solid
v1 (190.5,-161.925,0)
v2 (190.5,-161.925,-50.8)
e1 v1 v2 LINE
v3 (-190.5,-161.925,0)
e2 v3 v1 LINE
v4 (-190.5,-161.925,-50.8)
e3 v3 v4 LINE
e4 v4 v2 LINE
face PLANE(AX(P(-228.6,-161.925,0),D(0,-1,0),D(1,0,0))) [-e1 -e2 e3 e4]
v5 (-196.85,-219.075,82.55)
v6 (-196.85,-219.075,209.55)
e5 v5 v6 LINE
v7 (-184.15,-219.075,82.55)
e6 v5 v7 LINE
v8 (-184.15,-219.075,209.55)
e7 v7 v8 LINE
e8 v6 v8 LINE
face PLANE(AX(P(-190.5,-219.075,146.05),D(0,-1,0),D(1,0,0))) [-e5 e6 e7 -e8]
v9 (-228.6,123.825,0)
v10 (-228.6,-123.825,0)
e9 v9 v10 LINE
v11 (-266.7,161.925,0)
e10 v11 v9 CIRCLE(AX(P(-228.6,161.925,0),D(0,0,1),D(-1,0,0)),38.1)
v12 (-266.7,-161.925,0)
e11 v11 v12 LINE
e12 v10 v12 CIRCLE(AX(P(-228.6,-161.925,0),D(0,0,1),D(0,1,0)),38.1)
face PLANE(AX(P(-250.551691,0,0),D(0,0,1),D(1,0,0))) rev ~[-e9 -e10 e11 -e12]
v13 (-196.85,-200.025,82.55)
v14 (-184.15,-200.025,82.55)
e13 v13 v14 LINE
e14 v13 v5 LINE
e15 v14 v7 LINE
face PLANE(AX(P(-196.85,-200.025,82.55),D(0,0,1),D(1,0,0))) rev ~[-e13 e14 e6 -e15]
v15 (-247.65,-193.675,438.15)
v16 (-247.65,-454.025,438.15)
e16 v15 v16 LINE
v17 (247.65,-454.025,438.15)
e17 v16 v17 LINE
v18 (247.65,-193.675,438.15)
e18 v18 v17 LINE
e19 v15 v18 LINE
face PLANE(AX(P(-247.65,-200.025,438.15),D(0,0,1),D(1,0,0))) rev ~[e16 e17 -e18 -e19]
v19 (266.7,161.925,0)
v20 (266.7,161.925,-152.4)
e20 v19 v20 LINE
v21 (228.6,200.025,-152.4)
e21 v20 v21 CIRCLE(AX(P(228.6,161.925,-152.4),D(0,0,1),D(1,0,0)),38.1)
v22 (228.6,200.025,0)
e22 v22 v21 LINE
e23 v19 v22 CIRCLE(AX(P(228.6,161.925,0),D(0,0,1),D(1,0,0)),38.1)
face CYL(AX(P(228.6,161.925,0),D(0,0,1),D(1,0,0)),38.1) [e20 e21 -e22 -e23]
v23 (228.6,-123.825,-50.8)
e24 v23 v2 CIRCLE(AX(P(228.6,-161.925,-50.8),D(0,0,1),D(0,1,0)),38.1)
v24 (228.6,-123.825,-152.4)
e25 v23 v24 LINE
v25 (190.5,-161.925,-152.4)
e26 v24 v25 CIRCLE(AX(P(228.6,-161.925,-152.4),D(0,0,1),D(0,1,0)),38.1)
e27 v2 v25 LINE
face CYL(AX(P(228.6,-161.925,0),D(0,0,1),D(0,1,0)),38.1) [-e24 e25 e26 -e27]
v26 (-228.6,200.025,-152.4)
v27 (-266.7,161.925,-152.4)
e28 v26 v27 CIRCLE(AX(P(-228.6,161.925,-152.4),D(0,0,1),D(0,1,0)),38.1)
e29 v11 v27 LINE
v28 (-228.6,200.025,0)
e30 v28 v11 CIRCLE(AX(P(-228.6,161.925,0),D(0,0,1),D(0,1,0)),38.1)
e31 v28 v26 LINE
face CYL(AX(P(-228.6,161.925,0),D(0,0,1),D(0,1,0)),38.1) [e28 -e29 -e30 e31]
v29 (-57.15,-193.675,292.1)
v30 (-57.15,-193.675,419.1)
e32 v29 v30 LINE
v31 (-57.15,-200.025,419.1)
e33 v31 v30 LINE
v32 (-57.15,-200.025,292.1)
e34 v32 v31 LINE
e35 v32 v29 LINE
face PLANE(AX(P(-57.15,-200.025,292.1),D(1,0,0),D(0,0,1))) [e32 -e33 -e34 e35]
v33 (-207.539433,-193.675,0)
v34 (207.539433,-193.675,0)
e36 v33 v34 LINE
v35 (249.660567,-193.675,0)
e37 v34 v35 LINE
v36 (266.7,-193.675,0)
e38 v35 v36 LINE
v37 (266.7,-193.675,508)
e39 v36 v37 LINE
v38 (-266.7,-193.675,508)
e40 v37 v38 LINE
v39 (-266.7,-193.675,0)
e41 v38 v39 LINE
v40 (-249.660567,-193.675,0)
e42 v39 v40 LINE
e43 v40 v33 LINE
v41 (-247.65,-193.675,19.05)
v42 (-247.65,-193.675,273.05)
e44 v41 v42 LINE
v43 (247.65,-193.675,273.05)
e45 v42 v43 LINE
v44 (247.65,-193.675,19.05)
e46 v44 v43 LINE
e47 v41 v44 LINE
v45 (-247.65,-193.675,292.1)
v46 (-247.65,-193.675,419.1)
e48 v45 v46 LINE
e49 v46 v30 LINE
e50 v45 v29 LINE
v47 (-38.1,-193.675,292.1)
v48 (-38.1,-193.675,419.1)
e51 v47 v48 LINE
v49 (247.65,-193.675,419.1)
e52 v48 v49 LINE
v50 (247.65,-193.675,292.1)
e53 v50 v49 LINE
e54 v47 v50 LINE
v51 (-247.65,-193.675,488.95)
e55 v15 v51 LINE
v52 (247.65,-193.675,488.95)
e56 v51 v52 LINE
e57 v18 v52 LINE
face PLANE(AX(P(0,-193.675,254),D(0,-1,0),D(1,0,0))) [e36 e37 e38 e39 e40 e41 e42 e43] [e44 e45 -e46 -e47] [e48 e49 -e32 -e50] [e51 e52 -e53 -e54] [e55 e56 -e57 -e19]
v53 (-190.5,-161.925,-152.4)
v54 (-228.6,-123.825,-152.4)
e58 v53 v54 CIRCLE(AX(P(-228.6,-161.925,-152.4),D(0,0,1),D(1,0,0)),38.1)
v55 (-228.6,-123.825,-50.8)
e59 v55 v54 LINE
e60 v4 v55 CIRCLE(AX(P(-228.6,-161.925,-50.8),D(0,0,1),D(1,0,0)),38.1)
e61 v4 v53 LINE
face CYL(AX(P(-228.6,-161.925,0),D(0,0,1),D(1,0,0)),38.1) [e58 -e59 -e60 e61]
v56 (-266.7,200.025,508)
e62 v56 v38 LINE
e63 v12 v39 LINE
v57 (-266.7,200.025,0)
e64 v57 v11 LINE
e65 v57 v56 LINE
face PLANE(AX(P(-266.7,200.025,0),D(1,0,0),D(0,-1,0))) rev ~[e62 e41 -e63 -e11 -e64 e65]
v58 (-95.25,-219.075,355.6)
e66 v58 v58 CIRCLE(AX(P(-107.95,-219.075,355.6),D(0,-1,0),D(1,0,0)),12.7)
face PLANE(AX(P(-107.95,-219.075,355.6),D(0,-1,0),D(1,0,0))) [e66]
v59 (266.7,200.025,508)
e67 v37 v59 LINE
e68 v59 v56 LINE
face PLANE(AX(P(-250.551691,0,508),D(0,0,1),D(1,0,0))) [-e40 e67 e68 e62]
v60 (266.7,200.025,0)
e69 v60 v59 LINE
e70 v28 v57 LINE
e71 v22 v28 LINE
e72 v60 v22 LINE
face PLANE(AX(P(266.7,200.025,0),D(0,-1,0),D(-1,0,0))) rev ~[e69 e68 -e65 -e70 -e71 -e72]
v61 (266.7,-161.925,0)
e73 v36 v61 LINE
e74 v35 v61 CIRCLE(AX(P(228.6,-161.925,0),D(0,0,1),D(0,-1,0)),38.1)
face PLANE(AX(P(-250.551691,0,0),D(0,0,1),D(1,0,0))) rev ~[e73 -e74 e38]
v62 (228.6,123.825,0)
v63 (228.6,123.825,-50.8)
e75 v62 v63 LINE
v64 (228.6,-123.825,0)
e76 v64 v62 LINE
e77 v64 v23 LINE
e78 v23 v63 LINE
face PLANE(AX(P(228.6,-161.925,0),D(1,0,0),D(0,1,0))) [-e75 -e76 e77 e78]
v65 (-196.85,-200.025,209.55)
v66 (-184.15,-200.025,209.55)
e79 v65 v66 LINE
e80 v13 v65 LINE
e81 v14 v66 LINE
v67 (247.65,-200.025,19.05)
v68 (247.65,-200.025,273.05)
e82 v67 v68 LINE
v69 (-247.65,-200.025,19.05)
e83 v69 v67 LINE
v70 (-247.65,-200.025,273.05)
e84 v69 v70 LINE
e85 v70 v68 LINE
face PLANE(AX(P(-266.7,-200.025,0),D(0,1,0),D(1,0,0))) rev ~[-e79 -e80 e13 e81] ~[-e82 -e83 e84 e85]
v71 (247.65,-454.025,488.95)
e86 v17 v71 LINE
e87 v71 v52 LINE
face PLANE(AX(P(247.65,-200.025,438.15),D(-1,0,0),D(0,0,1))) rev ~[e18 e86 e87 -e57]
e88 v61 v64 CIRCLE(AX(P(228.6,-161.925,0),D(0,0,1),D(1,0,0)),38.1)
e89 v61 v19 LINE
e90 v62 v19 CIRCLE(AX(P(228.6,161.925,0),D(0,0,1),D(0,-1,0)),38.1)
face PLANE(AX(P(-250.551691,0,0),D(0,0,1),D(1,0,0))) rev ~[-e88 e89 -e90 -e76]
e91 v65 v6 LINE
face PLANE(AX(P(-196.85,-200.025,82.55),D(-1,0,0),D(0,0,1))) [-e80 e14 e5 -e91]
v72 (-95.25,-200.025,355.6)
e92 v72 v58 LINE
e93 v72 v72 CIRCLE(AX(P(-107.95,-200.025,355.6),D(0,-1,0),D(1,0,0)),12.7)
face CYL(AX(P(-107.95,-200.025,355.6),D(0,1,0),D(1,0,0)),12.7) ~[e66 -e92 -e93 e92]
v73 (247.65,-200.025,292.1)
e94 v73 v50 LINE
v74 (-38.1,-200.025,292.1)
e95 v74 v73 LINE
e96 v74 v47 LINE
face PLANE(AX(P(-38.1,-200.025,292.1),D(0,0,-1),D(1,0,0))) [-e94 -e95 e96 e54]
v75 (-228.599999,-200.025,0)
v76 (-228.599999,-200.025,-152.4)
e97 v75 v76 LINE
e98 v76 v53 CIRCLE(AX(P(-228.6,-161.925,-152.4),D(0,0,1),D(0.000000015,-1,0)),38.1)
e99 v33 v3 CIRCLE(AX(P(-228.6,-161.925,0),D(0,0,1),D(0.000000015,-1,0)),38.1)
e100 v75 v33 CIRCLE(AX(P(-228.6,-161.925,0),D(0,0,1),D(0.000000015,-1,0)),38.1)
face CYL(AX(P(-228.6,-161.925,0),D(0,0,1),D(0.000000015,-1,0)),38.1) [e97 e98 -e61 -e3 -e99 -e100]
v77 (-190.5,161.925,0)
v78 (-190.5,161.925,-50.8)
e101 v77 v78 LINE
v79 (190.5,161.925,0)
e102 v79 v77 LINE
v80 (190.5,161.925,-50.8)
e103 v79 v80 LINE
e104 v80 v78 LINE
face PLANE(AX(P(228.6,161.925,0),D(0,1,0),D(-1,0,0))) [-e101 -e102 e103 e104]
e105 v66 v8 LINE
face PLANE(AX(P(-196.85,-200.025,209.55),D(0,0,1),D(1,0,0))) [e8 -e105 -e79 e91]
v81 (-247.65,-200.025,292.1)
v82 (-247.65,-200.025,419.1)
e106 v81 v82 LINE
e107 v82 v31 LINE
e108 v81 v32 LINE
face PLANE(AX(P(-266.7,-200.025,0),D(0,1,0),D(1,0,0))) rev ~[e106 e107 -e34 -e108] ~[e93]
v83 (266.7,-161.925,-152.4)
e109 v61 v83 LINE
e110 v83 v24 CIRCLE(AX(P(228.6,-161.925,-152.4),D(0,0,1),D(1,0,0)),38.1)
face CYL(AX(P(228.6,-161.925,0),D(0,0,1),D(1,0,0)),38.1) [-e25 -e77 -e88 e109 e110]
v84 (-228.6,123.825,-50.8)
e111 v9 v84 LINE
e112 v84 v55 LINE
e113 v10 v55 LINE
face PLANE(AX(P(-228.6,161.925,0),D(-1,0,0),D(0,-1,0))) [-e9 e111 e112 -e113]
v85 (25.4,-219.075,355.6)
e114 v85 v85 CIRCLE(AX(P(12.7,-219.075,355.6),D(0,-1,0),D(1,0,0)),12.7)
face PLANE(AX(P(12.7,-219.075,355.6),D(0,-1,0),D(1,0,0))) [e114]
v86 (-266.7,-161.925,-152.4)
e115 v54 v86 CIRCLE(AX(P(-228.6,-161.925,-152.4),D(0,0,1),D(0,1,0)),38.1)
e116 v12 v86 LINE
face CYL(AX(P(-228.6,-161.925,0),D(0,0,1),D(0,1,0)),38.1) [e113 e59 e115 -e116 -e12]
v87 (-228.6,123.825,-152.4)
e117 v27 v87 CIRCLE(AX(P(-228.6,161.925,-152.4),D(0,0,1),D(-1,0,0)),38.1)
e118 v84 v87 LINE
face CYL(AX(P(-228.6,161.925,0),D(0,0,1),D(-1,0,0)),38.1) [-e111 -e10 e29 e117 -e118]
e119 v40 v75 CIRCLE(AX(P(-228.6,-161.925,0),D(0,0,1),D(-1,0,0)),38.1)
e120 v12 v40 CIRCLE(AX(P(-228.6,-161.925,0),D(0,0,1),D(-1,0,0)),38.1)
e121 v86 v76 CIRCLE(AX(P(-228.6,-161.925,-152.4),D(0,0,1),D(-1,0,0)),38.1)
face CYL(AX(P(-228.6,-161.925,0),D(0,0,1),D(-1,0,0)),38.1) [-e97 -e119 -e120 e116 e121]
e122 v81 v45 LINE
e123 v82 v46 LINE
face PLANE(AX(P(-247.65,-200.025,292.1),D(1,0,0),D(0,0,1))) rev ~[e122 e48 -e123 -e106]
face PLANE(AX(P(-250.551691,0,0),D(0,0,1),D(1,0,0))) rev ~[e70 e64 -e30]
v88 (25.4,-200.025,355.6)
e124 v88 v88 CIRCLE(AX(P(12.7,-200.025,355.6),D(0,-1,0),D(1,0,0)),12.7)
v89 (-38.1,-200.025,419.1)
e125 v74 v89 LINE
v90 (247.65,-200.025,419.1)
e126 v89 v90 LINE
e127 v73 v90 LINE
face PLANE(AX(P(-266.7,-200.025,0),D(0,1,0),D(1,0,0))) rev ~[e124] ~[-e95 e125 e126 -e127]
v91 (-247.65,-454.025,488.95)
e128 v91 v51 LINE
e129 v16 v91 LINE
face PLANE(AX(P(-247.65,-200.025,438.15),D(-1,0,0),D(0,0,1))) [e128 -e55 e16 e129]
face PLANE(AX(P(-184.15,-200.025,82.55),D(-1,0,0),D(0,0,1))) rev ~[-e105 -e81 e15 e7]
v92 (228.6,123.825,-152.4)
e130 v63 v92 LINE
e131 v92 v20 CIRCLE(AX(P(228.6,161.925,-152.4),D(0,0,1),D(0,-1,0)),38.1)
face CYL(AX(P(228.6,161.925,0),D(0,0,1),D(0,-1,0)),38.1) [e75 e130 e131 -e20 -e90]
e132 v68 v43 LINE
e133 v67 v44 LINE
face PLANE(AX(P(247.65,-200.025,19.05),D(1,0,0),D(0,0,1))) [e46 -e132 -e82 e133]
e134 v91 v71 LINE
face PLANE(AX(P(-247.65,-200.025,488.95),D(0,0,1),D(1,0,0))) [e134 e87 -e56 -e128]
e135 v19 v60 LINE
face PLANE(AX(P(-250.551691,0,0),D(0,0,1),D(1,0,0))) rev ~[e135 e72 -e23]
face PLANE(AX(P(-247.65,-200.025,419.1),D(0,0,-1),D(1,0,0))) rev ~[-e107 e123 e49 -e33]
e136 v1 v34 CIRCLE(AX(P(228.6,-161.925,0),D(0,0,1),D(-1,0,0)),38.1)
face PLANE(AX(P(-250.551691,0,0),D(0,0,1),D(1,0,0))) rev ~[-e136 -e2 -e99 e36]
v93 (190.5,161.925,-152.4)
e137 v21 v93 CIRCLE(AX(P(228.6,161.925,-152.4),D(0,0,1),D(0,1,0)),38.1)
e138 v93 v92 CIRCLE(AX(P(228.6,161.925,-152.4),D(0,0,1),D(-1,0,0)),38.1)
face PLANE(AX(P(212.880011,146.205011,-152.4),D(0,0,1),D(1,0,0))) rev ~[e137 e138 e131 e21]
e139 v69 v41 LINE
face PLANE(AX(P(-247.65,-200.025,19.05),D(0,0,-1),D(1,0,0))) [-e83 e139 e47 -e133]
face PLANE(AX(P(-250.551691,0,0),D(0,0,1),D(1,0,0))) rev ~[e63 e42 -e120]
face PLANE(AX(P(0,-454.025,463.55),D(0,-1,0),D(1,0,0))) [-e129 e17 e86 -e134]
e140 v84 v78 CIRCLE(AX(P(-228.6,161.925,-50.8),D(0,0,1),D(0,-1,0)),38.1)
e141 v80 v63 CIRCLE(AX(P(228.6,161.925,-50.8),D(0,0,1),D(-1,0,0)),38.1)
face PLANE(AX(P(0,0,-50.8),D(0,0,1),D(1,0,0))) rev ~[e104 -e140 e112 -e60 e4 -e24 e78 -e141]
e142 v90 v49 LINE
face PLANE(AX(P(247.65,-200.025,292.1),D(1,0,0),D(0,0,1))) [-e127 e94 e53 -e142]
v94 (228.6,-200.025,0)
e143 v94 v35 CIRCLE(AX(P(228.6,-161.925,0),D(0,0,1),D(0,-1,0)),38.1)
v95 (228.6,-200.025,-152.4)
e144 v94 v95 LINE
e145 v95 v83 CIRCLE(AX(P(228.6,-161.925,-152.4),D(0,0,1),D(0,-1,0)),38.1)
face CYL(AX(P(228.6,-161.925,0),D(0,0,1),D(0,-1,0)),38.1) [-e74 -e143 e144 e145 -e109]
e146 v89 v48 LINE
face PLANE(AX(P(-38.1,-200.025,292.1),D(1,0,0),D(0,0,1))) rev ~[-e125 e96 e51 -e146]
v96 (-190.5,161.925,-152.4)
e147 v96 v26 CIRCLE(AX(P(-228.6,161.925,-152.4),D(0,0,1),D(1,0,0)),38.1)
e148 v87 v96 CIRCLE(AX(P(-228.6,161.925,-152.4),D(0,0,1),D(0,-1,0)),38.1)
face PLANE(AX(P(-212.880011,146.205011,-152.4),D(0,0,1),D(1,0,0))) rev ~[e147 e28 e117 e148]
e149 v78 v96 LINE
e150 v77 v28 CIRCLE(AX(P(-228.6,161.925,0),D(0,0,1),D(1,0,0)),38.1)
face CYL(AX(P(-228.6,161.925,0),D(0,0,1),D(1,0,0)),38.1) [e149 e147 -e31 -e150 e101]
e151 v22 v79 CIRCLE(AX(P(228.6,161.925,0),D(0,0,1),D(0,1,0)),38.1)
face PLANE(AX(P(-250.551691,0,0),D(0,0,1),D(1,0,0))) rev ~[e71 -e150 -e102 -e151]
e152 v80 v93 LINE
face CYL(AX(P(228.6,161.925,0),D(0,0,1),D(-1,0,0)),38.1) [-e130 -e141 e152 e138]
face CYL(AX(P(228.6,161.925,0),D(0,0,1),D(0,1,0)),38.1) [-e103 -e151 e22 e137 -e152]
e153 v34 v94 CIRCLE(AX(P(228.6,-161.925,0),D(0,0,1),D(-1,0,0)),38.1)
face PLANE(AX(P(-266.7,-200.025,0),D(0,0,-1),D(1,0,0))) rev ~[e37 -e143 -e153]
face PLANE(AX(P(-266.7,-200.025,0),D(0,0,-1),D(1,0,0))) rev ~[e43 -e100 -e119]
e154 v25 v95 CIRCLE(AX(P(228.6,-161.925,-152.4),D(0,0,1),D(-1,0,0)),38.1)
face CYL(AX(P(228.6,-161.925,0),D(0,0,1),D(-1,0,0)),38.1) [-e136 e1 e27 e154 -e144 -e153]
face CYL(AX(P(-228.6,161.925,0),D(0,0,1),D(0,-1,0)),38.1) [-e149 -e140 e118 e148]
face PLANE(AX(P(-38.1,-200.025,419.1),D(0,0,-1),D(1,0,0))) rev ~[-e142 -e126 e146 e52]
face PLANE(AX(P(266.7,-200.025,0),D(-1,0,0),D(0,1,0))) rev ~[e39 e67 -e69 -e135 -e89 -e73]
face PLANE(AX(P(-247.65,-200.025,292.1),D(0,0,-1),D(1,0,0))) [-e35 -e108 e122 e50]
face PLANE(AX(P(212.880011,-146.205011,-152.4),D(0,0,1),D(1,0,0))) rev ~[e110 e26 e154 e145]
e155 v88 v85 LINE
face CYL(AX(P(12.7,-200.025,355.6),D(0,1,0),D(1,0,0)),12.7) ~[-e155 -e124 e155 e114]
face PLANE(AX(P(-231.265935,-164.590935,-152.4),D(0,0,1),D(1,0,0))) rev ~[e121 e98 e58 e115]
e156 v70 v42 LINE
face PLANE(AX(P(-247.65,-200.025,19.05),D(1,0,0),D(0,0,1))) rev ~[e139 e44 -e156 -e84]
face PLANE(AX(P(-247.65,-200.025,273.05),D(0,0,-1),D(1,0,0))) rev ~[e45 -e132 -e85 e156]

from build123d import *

# Parameters (mm, degrees)
F1_DEPTH = 50.8
F2_DEPTH = 152.4
F3_DEPTH = 508
F4_W     = 495.3
F4_H     = 254
F4_W_2   = 190.5
F4_H_2   = 127
F4_W_3   = 285.75
F4_H_3   = 50.8
F5_DEPTH = 6.35
F6_DEPTH = 254
F4_W_4   = 12.7
F4_R     = 12.7
F7_DEPTH = 19.05


with BuildPart() as f1:
    # F0 (on Top) → F1 (new body)
    with BuildSketch(Plane.XY):
        with BuildLine():
            ThreePointArc((228.6, 123.825), (201.6592316368, 134.9842316368), (190.5, 161.925))
            Line((190.5, 161.925), (-190.5, 161.925))
            ThreePointArc((-190.5, 161.925), (-201.6592316368, 134.9842316368), (-228.6, 123.825))
            Line((-228.6, 123.825), (-228.6, -123.825))
            ThreePointArc((-228.6, -123.825), (-201.6592316368, -134.9842316368), (-190.5, -161.925))
            Line((-190.5, -161.925), (190.5, -161.925))
            ThreePointArc((190.5, -161.925), (201.6592316368, -134.9842316368), (228.6, -123.825))
            Line((228.6, -123.825), (228.6, 123.825))
        make_face()
        with BuildLine():
            ThreePointArc((-228.6, 123.825), (-201.6592316368, 134.9842316368), (-190.5, 161.925))
            Line((-190.5, 161.925), (-228.6, 161.925))
            Line((-228.6, 161.925), (-228.6, 123.825))
        make_face()
        with BuildLine():
            ThreePointArc((-190.5, -161.925), (-201.6592316368, -134.9842316368), (-228.6, -123.825))
            Line((-228.6, -123.825), (-228.6, -161.925))
            Line((-228.6, -161.925), (-190.5, -161.925))
        make_face()
        with BuildLine():
            Line((228.6, -161.925), (228.6, -123.825))
            ThreePointArc((228.6, -123.825), (201.6592316368, -134.9842316368), (190.5, -161.925))
            Line((190.5, -161.925), (228.6, -161.925))
        make_face()
        with BuildLine():
            Line((228.6, 161.925), (190.5, 161.925))
            ThreePointArc((190.5, 161.925), (201.6592316368, 134.9842316368), (228.6, 123.825))
            Line((228.6, 123.825), (228.6, 161.925))
        make_face()
    extrude(amount=-F1_DEPTH)

    # F0 (on Top) → F2 (join)
    with BuildSketch(Plane.XY):
        with BuildLine():
            ThreePointArc((-228.6, -123.825), (-255.5407683632, -134.9842316368), (-266.7, -161.925))
            ThreePointArc((-266.7, -161.925), (-255.540768159, -188.8657685674), (-228.5999994224, -200.025))
            ThreePointArc((-228.5999994224, -200.025), (-201.6592314326, -188.865768159), (-190.5, -161.925))
            Line((-190.5, -161.925), (-228.6, -161.925))
            Line((-228.6, -161.925), (-228.6, -123.825))
        make_face()
        with BuildLine():
            ThreePointArc((-190.5, -161.925), (-201.6592316368, -134.9842316368), (-228.6, -123.825))
            Line((-228.6, -123.825), (-228.6, -161.925))
            Line((-228.6, -161.925), (-190.5, -161.925))
        make_face()
        with BuildLine():
            ThreePointArc((-228.6, 123.825), (-201.6592316368, 134.9842316368), (-190.5, 161.925))
            Line((-190.5, 161.925), (-228.6, 161.925))
            Line((-228.6, 161.925), (-228.6, 123.825))
        make_face()
        with BuildLine():
            ThreePointArc((-190.5, 161.925), (-201.6592316368, 188.8657683632), (-228.6, 200.025))
            ThreePointArc((-228.6, 200.025), (-255.5407683632, 188.8657683632), (-266.7, 161.925))
            ThreePointArc((-266.7, 161.925), (-255.5407683632, 134.9842316368), (-228.6, 123.825))
            Line((-228.6, 123.825), (-228.6, 161.925))
            Line((-228.6, 161.925), (-190.5, 161.925))
        make_face()
        with BuildLine():
            Line((228.6, 161.925), (190.5, 161.925))
            ThreePointArc((190.5, 161.925), (201.6592316368, 134.9842316368), (228.6, 123.825))
            Line((228.6, 123.825), (228.6, 161.925))
        make_face()
        with BuildLine():
            ThreePointArc((266.7, 161.925), (255.5407683632, 188.8657683632), (228.6, 200.025))
            ThreePointArc((228.6, 200.025), (201.6592316368, 188.8657683632), (190.5, 161.925))
            Line((190.5, 161.925), (228.6, 161.925))
            Line((228.6, 161.925), (228.6, 123.825))
            ThreePointArc((228.6, 123.825), (255.5407683632, 134.9842316368), (266.7, 161.925))
        make_face()
        with BuildLine():
            Line((228.6, -161.925), (228.6, -123.825))
            ThreePointArc((228.6, -123.825), (201.6592316368, -134.9842316368), (190.5, -161.925))
            Line((190.5, -161.925), (228.6, -161.925))
        make_face()
        with BuildLine():
            ThreePointArc((228.6, -200.025), (255.5407683632, -188.8657683632), (266.7, -161.925))
            ThreePointArc((266.7, -161.925), (255.5407683632, -134.9842316368), (228.6, -123.825))
            Line((228.6, -123.825), (228.6, -161.925))
            Line((228.6, -161.925), (190.5, -161.925))
            ThreePointArc((190.5, -161.925), (201.6592316368, -188.8657683632), (228.6, -200.025))
        make_face()
    extrude(amount=-F2_DEPTH)

    # F0 (on Top) → F3 (join)
    with BuildSketch(Plane.XY):
        with BuildLine():
            ThreePointArc((-228.6, 123.825), (-255.5407683632, 134.9842316368), (-266.7, 161.925))
            Line((-266.7, 161.925), (-266.7, -161.925))
            ThreePointArc((-266.7, -161.925), (-255.5407683632, -134.9842316368), (-228.6, -123.825))
            Line((-228.6, -123.825), (-228.6, 123.825))
        make_face()
        with BuildLine():
            ThreePointArc((-266.7, 161.925), (-255.5407683632, 188.8657683632), (-228.6, 200.025))
            Line((-228.6, 200.025), (-266.7, 200.025))
            Line((-266.7, 200.025), (-266.7, 161.925))
        make_face()
        with BuildLine():
            ThreePointArc((-190.5, 161.925), (-201.6592316368, 188.8657683632), (-228.6, 200.025))
            ThreePointArc((-228.6, 200.025), (-255.5407683632, 188.8657683632), (-266.7, 161.925))
            ThreePointArc((-266.7, 161.925), (-255.5407683632, 134.9842316368), (-228.6, 123.825))
            Line((-228.6, 123.825), (-228.6, 161.925))
            Line((-228.6, 161.925), (-190.5, 161.925))
        make_face()
        with BuildLine():
            ThreePointArc((-228.6, 123.825), (-201.6592316368, 134.9842316368), (-190.5, 161.925))
            Line((-190.5, 161.925), (-228.6, 161.925))
            Line((-228.6, 161.925), (-228.6, 123.825))
        make_face()
        with BuildLine():
            ThreePointArc((228.6, 123.825), (201.6592316368, 134.9842316368), (190.5, 161.925))
            Line((190.5, 161.925), (-190.5, 161.925))
            ThreePointArc((-190.5, 161.925), (-201.6592316368, 134.9842316368), (-228.6, 123.825))
            Line((-228.6, 123.825), (-228.6, -123.825))
            ThreePointArc((-228.6, -123.825), (-201.6592316368, -134.9842316368), (-190.5, -161.925))
            Line((-190.5, -161.925), (190.5, -161.925))
            ThreePointArc((190.5, -161.925), (201.6592316368, -134.9842316368), (228.6, -123.825))
            Line((228.6, -123.825), (228.6, 123.825))
        make_face()
        with BuildLine():
            ThreePointArc((-190.5, -161.925), (-201.6592316368, -134.9842316368), (-228.6, -123.825))
            Line((-228.6, -123.825), (-228.6, -161.925))
            Line((-228.6, -161.925), (-190.5, -161.925))
        make_face()
        with BuildLine():
            ThreePointArc((-228.6, -123.825), (-255.5407683632, -134.9842316368), (-266.7, -161.925))
            ThreePointArc((-266.7, -161.925), (-255.540768159, -188.8657685674), (-228.5999994224, -200.025))
            ThreePointArc((-228.5999994224, -200.025), (-201.6592314326, -188.865768159), (-190.5, -161.925))
            Line((-190.5, -161.925), (-228.6, -161.925))
            Line((-228.6, -161.925), (-228.6, -123.825))
        make_face()
        with BuildLine():
            ThreePointArc((-228.5999994224, -200.025), (-255.540768159, -188.8657685674), (-266.7, -161.925))
            Line((-266.7, -161.925), (-266.7, -200.025))
            Line((-266.7, -200.025), (-228.5999994224, -200.025))
        make_face()
        with BuildLine():
            Line((-228.5999994224, -200.025), (228.6, -200.025))
            ThreePointArc((228.6, -200.025), (201.6592316368, -188.8657683632), (190.5, -161.925))
            Line((190.5, -161.925), (-190.5, -161.925))
            ThreePointArc((-190.5, -161.925), (-201.6592314326, -188.865768159), (-228.5999994224, -200.025))
        make_face()
        with BuildLine():
            ThreePointArc((228.6, -200.025), (255.5407683632, -188.8657683632), (266.7, -161.925))
            ThreePointArc((266.7, -161.925), (255.5407683632, -134.9842316368), (228.6, -123.825))
            Line((228.6, -123.825), (228.6, -161.925))
            Line((228.6, -161.925), (190.5, -161.925))
            ThreePointArc((190.5, -161.925), (201.6592316368, -188.8657683632), (228.6, -200.025))
        make_face()
        with BuildLine():
            Line((266.7, -200.025), (266.7, -161.925))
            ThreePointArc((266.7, -161.925), (255.5407683632, -188.8657683632), (228.6, -200.025))
            Line((228.6, -200.025), (266.7, -200.025))
        make_face()
        with BuildLine():
            Line((228.6, -161.925), (228.6, -123.825))
            ThreePointArc((228.6, -123.825), (201.6592316368, -134.9842316368), (190.5, -161.925))
            Line((190.5, -161.925), (228.6, -161.925))
        make_face()
        with BuildLine():
            Line((266.7, -161.925), (266.7, 161.925))
            ThreePointArc((266.7, 161.925), (255.5407683632, 134.9842316368), (228.6, 123.825))
            Line((228.6, 123.825), (228.6, -123.825))
            ThreePointArc((228.6, -123.825), (255.5407683632, -134.9842316368), (266.7, -161.925))
        make_face()
        with BuildLine():
            ThreePointArc((190.5, 161.925), (201.6592316368, 188.8657683632), (228.6, 200.025))
            Line((228.6, 200.025), (-228.6, 200.025))
            ThreePointArc((-228.6, 200.025), (-201.6592316368, 188.8657683632), (-190.5, 161.925))
            Line((-190.5, 161.925), (190.5, 161.925))
        make_face()
        with BuildLine():
            Line((266.7, 161.925), (266.7, 200.025))
            Line((266.7, 200.025), (228.6, 200.025))
            ThreePointArc((228.6, 200.025), (255.5407683632, 188.8657683632), (266.7, 161.925))
        make_face()
        with BuildLine():
            ThreePointArc((266.7, 161.925), (255.5407683632, 188.8657683632), (228.6, 200.025))
            ThreePointArc((228.6, 200.025), (201.6592316368, 188.8657683632), (190.5, 161.925))
            Line((190.5, 161.925), (228.6, 161.925))
            Line((228.6, 161.925), (228.6, 123.825))
            ThreePointArc((228.6, 123.825), (255.5407683632, 134.9842316368), (266.7, 161.925))
        make_face()
        with BuildLine():
            Line((228.6, 161.925), (190.5, 161.925))
            ThreePointArc((190.5, 161.925), (201.6592316368, 134.9842316368), (228.6, 123.825))
            Line((228.6, 123.825), (228.6, 161.925))
        make_face()
    extrude(amount=F3_DEPTH)

    # F4 (on face) → F5 (cut)
    with BuildSketch(Plane.XZ.offset(200.025)):
        Polygon((266.7, 508), (-266.7, 508), (-266.7, 0), (-228.6, 0), (228.6, 0), (266.7, 0), align=None)
        with Locations((0, 146.05)):
            Rectangle(F4_W, F4_H, mode=Mode.SUBTRACT)
        with Locations((-152.4, 355.6)):
            Rectangle(F4_W_2, F4_H_2, mode=Mode.SUBTRACT)
        with Locations((104.775, 355.6)):
            Rectangle(F4_W_3, F4_H_2, mode=Mode.SUBTRACT)
        with Locations((0, 463.55)):
            Rectangle(F4_W, F4_H_3, mode=Mode.SUBTRACT)
    extrude(amount=-F5_DEPTH, mode=Mode.SUBTRACT)

    # F4 (on face) → F6 (join)
    with BuildSketch(Plane.XZ.offset(200.025)):
        with Locations((0, 463.55)):
            Rectangle(F4_W, F4_H_3)
    extrude(amount=F6_DEPTH)

    # F4 (on face) → F7 (join)
    with BuildSketch(Plane.XZ.offset(200.025)):
        with Locations((-190.5, 146.05)):
            Rectangle(F4_W_4, F4_H_2)
        with Locations((-107.95, 355.6)):
            Circle(F4_R)
        with Locations((12.7, 355.6)):
            Circle(F4_R)
    extrude(amount=F7_DEPTH)


solid = f1.part
